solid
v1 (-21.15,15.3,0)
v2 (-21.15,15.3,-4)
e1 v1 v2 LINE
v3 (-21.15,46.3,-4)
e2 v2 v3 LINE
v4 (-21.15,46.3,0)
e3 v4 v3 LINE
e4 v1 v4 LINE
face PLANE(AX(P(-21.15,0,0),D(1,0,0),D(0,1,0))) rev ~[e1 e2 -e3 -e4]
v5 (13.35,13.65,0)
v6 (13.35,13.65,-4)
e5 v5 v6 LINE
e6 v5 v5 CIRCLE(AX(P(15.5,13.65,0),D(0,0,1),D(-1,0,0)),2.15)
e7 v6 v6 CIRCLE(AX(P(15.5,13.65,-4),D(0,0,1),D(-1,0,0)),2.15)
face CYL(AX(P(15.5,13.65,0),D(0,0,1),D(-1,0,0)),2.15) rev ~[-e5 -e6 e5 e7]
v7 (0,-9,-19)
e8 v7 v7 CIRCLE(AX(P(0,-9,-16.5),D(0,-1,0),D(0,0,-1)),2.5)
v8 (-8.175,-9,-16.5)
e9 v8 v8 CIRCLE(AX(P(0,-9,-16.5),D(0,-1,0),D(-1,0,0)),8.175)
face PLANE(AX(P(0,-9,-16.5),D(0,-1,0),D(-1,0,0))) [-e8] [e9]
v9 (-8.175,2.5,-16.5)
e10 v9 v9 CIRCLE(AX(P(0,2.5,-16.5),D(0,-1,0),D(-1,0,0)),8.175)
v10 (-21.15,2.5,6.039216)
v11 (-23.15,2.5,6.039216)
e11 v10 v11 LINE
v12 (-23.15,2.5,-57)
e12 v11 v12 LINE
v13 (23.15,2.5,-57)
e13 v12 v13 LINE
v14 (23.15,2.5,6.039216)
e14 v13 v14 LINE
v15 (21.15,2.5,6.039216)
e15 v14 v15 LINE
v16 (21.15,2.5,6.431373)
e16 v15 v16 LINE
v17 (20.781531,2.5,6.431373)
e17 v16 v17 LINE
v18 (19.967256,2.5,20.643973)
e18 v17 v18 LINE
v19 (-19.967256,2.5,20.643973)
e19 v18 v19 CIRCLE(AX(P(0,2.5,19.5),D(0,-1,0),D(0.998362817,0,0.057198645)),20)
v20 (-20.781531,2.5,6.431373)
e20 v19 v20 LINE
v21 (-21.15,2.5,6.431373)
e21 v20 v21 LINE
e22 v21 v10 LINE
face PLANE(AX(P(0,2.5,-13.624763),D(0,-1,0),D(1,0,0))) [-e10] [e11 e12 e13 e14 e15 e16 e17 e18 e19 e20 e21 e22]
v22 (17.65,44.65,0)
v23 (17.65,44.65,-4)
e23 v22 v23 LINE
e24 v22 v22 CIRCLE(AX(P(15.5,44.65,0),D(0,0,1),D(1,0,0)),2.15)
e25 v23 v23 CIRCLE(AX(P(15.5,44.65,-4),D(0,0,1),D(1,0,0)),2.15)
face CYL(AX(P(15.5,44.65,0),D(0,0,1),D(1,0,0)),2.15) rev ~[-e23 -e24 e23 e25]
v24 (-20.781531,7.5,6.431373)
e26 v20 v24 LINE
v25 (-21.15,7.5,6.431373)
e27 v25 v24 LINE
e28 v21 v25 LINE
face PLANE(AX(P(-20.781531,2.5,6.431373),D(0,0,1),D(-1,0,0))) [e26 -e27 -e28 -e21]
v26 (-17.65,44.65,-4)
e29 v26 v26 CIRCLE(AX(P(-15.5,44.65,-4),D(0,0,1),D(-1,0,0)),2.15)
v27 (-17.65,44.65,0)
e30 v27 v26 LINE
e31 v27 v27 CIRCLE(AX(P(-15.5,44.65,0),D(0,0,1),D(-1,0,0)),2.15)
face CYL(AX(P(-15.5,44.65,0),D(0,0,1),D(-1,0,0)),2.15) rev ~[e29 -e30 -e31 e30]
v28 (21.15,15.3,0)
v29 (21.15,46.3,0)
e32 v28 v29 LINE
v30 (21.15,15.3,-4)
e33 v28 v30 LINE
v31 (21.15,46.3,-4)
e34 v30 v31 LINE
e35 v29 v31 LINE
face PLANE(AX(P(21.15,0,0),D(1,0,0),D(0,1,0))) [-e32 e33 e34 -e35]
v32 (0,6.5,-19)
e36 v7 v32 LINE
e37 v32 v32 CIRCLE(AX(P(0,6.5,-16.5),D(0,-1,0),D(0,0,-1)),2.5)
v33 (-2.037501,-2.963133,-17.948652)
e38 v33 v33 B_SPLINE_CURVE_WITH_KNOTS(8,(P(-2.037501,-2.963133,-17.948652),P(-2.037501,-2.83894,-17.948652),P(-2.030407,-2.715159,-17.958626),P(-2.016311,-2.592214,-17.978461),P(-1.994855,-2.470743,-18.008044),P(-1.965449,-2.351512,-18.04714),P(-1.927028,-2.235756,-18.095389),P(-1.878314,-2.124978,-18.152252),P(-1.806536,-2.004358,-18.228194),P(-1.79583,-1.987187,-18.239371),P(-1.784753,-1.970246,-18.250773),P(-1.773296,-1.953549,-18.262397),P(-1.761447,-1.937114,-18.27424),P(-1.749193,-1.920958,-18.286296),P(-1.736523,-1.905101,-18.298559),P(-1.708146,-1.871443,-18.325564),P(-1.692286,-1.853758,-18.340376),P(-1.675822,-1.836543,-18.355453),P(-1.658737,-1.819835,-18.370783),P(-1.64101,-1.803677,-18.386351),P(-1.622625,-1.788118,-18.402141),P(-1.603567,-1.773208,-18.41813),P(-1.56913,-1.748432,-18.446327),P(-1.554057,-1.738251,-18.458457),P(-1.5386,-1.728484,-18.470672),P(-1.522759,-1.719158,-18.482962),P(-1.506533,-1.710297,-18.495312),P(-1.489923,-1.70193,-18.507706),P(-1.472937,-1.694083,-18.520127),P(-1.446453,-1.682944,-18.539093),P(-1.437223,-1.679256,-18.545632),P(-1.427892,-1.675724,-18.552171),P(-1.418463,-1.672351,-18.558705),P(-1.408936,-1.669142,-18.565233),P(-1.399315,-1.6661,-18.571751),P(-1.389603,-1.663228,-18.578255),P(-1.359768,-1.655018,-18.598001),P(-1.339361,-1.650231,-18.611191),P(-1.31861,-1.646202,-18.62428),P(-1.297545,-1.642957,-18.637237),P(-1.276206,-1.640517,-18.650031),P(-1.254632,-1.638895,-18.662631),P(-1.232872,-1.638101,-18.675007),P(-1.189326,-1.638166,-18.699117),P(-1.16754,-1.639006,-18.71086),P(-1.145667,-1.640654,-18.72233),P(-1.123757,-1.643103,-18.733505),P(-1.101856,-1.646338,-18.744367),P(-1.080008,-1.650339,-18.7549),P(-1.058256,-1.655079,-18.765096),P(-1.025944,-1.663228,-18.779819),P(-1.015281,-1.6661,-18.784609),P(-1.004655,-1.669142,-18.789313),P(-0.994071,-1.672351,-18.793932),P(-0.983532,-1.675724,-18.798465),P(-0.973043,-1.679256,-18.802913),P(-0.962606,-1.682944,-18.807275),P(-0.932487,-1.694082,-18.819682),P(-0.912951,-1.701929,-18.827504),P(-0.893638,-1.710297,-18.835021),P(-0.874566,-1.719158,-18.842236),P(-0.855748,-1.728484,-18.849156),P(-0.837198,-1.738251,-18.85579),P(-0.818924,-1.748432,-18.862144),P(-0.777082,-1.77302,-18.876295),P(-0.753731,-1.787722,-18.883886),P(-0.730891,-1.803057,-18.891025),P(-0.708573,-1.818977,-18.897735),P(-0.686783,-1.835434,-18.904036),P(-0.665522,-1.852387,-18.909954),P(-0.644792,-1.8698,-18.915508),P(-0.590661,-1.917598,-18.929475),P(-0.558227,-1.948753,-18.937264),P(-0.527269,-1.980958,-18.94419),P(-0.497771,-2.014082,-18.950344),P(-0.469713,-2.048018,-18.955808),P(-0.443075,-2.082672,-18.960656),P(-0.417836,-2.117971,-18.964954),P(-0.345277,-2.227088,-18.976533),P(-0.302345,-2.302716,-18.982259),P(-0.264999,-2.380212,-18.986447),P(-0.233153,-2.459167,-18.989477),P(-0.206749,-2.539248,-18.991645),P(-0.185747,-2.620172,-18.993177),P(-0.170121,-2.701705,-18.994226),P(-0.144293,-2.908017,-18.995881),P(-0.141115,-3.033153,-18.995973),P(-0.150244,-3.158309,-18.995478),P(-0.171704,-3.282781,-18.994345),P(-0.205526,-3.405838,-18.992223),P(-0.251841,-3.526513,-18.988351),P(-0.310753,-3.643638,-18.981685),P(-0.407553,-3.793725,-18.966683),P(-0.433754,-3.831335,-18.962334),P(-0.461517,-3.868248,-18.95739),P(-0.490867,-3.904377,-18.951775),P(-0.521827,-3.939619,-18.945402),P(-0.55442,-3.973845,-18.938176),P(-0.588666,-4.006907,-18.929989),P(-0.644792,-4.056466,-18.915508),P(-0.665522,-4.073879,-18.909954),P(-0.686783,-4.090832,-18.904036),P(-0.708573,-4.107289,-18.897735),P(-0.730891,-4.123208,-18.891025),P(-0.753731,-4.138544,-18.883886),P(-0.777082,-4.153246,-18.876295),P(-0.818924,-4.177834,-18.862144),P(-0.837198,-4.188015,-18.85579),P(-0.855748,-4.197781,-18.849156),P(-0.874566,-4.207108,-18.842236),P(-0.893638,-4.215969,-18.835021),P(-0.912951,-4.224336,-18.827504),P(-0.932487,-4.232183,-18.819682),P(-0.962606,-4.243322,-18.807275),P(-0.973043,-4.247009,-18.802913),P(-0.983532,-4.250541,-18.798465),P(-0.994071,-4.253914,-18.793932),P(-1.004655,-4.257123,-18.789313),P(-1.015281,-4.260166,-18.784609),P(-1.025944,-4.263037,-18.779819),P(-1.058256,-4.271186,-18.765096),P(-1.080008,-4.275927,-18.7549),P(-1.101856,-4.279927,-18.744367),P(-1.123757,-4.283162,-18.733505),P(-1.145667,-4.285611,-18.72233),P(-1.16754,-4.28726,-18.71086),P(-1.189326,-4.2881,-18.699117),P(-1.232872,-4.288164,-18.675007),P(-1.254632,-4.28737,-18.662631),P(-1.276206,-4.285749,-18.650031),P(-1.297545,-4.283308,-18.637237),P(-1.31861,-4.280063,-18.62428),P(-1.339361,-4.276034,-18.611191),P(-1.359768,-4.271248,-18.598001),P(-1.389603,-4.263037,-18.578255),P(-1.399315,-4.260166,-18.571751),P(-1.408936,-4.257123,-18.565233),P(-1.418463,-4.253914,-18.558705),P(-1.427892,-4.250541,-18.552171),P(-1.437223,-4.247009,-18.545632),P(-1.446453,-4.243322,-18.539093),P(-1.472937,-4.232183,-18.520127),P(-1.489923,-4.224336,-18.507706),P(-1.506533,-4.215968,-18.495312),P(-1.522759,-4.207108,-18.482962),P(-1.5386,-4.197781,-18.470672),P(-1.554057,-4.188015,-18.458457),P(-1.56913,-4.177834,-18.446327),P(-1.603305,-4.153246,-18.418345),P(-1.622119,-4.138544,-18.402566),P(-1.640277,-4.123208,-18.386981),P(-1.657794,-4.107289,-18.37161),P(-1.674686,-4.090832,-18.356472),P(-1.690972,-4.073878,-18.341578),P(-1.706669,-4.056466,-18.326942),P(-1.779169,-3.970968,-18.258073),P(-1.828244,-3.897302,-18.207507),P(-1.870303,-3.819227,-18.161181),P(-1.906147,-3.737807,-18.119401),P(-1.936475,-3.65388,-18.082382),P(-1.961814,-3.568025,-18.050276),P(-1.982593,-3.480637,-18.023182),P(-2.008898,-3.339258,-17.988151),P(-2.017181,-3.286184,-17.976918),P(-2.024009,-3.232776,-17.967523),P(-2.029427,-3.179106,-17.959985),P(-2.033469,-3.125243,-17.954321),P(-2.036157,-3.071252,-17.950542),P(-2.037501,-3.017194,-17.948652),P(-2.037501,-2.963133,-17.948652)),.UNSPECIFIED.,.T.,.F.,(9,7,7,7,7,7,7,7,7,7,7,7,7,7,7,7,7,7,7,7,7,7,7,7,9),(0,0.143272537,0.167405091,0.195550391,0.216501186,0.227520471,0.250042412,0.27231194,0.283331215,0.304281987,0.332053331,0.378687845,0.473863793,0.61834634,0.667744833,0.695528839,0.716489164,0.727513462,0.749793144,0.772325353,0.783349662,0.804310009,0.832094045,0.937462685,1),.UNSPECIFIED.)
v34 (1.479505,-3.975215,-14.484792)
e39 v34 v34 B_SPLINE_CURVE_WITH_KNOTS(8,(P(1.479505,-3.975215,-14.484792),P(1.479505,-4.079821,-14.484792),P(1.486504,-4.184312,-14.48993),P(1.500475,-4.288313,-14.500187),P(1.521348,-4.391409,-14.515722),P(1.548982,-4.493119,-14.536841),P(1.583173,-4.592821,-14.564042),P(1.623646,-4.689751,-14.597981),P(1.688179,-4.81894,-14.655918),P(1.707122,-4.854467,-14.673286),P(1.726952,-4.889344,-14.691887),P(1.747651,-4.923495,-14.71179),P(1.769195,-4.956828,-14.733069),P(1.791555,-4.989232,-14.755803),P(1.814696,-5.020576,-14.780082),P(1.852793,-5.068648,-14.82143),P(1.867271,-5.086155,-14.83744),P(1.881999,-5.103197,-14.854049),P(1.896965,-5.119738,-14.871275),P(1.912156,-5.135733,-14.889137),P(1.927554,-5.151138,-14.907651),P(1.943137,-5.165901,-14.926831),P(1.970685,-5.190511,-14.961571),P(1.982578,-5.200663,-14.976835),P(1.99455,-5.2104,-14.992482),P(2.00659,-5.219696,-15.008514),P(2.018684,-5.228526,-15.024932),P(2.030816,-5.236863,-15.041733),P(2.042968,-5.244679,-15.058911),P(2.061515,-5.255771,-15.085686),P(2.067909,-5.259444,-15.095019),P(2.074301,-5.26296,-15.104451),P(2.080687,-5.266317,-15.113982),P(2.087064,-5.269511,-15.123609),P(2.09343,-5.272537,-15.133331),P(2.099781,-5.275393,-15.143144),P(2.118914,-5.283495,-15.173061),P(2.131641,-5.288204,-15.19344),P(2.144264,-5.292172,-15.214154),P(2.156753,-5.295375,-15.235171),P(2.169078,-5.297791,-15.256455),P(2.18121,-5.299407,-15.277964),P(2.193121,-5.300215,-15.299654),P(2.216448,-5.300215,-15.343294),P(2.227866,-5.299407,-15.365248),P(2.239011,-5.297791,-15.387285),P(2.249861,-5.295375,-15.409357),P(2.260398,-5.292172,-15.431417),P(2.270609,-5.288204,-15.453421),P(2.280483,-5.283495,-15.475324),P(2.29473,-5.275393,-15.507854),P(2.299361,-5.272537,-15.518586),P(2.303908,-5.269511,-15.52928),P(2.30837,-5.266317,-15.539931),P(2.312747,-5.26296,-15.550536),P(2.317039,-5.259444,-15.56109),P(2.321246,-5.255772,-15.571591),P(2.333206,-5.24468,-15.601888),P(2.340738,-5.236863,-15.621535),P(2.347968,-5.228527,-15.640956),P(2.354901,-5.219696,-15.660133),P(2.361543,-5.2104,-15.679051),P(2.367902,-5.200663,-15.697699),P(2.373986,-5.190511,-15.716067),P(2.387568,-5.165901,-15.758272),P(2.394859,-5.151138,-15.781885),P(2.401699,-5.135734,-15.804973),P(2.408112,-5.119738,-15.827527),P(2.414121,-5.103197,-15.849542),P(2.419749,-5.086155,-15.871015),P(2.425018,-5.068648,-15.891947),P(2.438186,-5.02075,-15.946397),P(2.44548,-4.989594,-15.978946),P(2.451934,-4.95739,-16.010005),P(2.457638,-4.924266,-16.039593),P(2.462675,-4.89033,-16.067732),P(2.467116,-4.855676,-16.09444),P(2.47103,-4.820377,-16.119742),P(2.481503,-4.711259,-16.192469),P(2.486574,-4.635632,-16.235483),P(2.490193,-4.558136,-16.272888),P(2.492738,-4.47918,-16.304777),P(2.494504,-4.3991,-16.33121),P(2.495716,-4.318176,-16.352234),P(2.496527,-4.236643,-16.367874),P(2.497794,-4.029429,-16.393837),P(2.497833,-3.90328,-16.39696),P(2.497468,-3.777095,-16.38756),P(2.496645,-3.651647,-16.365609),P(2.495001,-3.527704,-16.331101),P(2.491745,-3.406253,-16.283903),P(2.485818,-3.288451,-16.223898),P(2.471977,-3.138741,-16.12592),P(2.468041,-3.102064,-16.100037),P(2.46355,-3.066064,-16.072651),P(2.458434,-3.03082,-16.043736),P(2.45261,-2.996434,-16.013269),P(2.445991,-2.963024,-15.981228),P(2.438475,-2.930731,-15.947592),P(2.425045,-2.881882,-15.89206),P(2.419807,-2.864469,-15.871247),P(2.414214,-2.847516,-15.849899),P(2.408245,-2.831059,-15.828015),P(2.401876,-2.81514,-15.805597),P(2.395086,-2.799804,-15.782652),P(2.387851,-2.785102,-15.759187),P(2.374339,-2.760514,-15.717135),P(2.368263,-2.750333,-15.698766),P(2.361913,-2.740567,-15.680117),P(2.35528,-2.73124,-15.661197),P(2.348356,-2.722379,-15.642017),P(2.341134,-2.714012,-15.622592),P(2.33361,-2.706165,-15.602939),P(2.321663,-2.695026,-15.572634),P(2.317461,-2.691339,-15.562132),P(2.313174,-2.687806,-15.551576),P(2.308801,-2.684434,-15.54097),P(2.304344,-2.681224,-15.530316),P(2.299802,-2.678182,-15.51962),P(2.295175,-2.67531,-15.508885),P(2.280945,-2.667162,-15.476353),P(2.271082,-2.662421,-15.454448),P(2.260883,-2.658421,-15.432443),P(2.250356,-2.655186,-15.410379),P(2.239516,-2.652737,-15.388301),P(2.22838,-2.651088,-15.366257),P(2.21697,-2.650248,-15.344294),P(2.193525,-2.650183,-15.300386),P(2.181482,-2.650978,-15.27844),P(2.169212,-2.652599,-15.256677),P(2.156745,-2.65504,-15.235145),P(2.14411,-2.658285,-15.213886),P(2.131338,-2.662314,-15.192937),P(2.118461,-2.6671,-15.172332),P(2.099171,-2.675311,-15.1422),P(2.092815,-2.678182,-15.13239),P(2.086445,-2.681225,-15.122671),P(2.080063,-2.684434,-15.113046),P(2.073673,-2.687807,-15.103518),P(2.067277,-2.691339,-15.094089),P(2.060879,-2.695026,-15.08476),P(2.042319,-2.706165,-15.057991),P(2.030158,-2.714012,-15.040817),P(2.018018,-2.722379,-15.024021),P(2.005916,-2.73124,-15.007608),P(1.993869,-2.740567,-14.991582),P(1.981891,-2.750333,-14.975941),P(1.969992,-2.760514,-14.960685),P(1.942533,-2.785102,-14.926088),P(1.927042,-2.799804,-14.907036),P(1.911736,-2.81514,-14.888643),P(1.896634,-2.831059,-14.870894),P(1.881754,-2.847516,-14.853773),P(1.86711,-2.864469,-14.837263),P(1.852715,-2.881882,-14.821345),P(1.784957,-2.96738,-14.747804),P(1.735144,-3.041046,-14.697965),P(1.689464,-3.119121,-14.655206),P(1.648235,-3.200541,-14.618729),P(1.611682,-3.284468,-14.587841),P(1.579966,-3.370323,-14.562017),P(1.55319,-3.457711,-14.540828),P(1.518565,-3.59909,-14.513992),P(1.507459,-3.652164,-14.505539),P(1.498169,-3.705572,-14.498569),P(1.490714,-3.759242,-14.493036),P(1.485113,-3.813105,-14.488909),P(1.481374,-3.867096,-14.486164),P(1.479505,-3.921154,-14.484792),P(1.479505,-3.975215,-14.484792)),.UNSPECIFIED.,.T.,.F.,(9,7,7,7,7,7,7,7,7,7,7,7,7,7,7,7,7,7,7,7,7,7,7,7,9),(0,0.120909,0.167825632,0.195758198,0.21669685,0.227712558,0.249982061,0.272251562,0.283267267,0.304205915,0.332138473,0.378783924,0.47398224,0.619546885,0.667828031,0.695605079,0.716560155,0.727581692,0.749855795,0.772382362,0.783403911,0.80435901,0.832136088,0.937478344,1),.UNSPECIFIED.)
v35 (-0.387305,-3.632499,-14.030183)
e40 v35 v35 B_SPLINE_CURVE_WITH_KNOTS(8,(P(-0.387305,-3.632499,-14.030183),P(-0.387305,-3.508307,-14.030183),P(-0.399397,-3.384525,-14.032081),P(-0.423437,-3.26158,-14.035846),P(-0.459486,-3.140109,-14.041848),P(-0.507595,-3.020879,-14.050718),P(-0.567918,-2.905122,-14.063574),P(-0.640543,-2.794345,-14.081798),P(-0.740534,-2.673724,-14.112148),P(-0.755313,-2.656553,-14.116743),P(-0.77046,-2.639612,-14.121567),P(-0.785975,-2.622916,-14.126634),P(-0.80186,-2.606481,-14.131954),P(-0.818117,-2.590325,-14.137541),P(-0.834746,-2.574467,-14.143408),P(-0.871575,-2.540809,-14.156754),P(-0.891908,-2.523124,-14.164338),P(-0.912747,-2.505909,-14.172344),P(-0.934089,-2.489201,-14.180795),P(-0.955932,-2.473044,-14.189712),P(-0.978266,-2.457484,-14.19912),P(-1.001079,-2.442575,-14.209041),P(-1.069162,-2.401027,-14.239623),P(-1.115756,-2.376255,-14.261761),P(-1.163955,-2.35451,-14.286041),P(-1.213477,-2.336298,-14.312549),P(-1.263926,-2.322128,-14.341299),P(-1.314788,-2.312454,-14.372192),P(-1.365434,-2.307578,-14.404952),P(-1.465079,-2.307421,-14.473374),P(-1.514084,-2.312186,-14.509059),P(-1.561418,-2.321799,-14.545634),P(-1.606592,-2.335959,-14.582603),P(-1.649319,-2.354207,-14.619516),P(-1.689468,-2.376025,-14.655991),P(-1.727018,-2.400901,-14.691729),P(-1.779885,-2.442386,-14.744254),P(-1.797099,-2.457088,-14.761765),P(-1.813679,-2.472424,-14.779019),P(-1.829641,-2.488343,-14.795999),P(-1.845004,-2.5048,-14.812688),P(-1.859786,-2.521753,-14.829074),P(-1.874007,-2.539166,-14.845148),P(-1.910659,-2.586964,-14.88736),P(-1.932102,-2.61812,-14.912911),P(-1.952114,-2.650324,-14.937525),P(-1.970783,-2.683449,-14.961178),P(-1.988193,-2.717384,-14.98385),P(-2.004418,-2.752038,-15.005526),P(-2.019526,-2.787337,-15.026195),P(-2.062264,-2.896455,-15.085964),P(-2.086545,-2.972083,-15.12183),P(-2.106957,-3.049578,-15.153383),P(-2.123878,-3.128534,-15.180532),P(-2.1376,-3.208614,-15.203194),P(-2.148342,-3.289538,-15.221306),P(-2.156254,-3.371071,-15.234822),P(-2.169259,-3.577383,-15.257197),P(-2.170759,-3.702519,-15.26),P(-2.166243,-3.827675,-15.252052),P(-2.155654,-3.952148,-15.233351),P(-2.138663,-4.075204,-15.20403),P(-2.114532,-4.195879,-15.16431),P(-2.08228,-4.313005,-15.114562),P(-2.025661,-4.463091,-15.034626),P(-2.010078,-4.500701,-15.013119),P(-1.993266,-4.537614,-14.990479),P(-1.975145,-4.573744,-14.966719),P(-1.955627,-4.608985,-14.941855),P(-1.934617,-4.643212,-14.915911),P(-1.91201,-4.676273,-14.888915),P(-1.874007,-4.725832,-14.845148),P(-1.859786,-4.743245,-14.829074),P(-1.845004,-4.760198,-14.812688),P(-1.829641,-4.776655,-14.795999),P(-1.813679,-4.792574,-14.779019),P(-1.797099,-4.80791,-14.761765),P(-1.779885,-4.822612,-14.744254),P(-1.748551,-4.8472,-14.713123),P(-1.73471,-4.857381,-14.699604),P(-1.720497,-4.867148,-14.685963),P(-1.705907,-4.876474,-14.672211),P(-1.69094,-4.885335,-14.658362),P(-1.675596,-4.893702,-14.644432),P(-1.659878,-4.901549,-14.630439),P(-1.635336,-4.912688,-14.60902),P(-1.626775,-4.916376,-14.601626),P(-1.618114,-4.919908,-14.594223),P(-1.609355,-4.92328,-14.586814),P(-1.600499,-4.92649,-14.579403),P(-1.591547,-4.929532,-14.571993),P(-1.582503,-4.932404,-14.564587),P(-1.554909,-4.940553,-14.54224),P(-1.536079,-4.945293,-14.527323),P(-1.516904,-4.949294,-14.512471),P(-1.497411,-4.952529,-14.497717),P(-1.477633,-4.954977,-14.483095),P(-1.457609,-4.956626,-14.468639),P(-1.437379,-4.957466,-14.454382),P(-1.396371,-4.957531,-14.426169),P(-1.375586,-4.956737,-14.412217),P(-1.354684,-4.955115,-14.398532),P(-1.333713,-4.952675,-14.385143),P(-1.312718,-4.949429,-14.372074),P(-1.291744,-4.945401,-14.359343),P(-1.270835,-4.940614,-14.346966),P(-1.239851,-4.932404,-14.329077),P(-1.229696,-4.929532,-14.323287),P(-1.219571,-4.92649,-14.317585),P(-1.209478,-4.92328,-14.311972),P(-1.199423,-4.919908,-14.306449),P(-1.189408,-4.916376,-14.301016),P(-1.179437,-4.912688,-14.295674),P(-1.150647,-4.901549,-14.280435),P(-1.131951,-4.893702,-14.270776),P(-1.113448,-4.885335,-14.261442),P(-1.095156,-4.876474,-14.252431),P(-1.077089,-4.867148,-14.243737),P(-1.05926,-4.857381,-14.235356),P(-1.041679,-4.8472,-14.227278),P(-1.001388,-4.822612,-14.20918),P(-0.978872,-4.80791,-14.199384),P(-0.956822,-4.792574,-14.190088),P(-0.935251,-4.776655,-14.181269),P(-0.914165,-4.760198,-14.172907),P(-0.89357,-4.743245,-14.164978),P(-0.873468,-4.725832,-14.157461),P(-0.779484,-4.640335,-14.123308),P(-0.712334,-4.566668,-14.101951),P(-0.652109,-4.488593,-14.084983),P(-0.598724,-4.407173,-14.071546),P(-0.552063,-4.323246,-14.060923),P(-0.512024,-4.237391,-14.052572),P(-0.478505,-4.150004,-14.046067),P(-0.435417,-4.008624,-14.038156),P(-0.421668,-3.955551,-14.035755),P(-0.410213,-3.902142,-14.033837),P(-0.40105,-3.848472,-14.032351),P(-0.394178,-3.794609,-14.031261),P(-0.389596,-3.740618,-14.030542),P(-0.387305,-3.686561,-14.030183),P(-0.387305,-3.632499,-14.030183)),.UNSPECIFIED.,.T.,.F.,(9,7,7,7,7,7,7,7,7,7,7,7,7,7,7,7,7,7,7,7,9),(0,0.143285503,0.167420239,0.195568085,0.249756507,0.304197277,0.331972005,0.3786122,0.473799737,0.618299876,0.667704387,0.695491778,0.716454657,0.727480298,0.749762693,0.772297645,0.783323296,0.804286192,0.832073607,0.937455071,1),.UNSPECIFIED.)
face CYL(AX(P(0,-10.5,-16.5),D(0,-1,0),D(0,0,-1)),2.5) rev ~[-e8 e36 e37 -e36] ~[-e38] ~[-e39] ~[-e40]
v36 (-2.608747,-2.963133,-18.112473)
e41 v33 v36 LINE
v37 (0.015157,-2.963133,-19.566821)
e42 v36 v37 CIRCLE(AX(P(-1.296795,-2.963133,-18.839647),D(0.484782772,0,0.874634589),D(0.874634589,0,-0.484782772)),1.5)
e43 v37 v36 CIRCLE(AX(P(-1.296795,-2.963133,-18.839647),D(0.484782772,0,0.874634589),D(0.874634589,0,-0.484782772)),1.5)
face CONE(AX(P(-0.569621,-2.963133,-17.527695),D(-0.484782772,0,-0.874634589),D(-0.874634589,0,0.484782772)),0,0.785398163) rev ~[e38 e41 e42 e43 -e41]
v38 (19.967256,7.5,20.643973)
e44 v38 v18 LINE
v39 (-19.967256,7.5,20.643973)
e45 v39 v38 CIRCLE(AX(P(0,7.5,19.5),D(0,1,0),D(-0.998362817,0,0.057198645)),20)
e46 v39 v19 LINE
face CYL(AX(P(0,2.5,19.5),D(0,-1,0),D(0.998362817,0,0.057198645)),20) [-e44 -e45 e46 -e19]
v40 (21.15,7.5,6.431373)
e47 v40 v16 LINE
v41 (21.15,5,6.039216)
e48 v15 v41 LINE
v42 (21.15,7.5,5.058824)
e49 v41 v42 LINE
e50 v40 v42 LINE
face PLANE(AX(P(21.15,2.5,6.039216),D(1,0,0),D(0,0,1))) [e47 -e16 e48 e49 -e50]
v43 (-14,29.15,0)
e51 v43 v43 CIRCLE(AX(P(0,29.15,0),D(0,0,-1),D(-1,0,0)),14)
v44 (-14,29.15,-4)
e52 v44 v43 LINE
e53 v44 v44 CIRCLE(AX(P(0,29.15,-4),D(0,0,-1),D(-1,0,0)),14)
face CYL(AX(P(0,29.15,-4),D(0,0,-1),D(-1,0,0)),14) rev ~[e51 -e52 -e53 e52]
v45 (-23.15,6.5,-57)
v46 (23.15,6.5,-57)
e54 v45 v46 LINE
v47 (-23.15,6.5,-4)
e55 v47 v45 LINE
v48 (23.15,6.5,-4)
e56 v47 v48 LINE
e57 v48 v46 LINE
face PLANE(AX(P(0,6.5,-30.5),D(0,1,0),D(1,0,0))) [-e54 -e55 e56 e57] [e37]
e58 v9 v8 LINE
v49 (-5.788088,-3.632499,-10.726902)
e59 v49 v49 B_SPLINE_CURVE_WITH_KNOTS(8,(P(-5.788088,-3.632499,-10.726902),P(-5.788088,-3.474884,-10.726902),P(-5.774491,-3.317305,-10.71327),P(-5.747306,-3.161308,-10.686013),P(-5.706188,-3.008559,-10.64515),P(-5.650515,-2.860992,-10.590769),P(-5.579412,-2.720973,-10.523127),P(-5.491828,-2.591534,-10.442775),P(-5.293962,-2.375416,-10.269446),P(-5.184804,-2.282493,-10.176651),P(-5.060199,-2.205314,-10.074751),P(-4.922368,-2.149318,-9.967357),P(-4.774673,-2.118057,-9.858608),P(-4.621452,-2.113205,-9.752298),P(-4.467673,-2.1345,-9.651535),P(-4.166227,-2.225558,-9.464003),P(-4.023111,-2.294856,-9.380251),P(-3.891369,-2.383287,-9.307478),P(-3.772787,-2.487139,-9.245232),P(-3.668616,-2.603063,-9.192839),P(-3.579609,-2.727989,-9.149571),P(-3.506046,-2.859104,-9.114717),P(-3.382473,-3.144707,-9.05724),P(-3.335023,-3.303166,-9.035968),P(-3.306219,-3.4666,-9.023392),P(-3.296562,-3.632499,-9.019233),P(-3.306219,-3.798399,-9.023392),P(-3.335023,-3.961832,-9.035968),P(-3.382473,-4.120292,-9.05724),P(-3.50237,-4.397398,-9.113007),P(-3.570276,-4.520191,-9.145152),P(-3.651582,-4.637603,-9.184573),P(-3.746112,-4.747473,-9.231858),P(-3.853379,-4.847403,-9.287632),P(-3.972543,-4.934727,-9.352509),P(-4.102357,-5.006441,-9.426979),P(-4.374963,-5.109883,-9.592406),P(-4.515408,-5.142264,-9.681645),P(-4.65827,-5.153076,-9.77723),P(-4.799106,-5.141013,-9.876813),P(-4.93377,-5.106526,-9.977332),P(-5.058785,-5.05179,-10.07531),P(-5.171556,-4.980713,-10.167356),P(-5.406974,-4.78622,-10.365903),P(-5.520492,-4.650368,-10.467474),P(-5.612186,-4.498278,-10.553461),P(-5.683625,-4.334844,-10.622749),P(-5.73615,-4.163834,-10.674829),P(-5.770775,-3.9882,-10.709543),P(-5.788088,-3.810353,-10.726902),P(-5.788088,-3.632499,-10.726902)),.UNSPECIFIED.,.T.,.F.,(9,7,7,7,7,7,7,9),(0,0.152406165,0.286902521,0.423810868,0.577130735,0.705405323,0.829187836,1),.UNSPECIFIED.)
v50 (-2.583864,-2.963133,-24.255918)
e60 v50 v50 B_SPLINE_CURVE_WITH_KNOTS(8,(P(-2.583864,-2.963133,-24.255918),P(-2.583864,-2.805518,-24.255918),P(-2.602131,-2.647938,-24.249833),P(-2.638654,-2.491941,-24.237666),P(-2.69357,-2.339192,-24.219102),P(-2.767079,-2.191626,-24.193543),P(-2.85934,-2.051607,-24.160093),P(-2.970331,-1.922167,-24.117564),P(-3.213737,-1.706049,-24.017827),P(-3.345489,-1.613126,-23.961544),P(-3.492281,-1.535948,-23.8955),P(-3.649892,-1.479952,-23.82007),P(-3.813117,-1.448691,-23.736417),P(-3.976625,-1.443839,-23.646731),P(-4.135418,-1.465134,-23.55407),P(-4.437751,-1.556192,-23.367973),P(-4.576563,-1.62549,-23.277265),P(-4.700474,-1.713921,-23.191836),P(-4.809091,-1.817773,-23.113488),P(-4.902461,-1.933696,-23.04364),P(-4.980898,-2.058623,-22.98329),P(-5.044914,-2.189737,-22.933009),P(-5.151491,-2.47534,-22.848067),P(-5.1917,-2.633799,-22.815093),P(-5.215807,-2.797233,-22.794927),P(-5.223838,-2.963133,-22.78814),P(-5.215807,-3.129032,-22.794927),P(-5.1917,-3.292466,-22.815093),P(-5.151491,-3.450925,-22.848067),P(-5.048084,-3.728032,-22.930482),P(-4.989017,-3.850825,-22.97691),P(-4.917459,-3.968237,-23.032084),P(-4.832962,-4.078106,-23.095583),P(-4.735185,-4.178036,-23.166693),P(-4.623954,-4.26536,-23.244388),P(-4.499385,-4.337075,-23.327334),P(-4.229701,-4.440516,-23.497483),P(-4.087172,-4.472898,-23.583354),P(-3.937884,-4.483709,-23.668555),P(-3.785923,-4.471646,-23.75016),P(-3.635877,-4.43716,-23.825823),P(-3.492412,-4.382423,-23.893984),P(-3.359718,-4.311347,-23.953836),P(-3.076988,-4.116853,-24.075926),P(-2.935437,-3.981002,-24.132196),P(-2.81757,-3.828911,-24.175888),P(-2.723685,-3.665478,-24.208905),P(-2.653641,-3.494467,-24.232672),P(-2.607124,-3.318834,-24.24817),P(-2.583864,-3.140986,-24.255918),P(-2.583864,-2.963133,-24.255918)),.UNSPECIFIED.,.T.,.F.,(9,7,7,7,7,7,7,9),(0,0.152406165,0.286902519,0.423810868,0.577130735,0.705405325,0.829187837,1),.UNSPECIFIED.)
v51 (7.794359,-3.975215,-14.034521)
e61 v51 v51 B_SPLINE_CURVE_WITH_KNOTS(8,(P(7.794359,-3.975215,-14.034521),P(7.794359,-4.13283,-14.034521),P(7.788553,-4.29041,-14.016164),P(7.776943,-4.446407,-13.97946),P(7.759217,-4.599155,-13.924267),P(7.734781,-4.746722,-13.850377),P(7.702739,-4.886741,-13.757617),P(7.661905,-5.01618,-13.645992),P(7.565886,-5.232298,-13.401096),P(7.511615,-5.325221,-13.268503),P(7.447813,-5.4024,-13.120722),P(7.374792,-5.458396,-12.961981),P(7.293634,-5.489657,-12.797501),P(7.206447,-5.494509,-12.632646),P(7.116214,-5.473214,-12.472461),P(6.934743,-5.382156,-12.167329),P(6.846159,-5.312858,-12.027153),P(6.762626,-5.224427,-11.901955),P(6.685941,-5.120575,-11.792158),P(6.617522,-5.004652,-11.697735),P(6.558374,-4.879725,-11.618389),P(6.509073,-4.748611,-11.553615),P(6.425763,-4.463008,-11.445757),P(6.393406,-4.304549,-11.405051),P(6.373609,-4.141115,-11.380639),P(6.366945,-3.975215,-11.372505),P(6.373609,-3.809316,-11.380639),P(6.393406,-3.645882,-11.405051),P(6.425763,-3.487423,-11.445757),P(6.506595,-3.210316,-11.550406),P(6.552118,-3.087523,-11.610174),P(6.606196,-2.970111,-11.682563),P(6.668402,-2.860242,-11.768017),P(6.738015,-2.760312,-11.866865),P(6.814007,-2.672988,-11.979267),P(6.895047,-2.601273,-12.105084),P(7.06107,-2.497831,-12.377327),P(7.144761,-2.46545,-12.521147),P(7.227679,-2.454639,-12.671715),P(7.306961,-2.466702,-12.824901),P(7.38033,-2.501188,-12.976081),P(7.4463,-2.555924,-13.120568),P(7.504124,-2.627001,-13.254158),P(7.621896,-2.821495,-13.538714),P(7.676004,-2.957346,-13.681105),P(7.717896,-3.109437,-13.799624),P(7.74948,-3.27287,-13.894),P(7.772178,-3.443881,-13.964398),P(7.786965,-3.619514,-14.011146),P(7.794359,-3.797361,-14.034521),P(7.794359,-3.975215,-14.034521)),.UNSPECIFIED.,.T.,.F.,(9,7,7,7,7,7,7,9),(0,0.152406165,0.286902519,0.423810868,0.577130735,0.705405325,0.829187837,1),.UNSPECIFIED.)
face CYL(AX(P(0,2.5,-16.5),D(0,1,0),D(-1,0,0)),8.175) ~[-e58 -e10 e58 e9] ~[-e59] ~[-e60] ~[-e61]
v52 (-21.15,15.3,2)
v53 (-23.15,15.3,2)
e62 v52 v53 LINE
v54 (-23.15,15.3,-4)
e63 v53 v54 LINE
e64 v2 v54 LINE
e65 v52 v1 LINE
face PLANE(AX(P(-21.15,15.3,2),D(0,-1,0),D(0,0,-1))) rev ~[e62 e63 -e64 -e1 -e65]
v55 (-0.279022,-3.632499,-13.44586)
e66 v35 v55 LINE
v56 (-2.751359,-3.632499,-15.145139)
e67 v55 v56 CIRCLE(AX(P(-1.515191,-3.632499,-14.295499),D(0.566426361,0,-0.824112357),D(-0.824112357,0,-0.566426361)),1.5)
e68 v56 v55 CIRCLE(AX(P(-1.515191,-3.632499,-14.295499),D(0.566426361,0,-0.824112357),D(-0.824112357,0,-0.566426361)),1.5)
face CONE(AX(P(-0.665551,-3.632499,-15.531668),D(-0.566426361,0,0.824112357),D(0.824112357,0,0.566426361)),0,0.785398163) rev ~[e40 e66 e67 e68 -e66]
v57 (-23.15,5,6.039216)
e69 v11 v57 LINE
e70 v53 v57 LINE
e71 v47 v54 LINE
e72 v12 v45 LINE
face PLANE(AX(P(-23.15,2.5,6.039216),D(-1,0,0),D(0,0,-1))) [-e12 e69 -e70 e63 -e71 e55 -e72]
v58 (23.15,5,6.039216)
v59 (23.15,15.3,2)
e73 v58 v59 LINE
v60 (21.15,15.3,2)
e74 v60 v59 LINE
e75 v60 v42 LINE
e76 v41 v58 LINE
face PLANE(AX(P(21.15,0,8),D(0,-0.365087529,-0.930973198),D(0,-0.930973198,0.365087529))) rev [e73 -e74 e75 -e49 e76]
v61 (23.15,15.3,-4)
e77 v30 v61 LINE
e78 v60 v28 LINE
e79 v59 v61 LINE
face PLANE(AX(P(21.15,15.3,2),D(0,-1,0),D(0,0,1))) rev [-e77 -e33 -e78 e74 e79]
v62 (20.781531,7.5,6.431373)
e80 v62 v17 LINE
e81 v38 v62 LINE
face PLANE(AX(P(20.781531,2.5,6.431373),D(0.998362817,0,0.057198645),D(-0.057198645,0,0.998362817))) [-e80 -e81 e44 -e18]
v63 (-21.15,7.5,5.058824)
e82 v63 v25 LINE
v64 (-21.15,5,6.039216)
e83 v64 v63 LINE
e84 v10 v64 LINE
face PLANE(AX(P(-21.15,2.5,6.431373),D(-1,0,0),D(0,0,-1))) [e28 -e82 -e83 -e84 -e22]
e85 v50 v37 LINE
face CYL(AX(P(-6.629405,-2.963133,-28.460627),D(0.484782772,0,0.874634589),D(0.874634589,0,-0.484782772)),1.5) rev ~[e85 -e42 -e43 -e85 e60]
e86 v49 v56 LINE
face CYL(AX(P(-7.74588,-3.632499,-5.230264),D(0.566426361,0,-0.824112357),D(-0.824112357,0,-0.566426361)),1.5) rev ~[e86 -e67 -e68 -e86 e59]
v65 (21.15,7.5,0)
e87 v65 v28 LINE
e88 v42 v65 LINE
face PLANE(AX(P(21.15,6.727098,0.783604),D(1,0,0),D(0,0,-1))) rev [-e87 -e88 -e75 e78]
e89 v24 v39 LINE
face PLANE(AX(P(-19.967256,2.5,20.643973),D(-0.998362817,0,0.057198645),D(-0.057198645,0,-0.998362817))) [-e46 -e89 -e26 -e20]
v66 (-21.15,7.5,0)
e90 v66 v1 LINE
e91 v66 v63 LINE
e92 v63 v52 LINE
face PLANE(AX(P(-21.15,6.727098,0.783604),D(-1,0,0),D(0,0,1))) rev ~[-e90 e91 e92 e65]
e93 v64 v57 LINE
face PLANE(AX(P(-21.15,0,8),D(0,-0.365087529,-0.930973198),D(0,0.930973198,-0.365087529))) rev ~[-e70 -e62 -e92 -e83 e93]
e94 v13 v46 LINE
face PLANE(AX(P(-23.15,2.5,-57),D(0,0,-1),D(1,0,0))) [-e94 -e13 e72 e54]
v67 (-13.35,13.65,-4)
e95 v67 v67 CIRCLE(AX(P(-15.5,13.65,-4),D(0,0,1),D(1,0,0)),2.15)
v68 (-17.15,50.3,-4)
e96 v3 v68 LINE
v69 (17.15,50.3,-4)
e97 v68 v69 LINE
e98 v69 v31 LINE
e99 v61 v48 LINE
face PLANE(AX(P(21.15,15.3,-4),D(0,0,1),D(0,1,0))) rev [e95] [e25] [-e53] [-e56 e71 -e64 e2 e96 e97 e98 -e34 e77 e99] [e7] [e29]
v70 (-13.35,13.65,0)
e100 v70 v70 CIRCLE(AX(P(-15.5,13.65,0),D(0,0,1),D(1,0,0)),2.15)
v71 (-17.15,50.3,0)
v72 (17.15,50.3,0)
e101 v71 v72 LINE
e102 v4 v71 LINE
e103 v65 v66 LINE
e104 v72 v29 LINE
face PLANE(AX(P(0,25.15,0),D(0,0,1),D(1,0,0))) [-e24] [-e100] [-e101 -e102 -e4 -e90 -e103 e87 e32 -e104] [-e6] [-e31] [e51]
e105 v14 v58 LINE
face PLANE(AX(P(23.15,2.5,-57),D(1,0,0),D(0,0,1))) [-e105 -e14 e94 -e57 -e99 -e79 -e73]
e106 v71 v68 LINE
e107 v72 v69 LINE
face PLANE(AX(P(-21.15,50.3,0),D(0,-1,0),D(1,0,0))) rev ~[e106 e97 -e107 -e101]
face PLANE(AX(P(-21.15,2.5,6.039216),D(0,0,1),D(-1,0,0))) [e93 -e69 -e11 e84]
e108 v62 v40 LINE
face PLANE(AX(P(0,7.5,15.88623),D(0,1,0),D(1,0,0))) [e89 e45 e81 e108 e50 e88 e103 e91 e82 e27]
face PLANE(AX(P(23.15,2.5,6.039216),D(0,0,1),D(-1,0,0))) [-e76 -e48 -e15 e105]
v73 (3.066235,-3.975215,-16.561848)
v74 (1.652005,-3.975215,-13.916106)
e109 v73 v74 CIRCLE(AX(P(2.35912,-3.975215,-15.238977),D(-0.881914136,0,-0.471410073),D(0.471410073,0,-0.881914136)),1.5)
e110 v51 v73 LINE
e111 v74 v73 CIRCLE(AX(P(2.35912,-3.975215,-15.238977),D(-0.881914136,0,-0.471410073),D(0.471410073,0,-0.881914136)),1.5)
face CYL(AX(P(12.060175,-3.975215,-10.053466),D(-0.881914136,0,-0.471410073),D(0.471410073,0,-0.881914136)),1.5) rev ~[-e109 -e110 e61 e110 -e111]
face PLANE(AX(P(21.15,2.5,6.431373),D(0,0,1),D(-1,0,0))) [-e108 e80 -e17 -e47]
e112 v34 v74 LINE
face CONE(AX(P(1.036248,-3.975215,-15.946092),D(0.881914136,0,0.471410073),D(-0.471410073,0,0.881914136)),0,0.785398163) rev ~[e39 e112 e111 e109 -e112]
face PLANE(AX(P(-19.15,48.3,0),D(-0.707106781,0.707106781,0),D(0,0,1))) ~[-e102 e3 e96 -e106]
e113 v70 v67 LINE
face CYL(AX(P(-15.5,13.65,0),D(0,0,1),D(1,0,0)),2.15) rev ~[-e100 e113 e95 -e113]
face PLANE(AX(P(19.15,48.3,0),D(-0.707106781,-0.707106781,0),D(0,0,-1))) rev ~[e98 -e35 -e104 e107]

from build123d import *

# Parameters (mm, degrees)
SKETCH_5_W                = 42.3
SKETCH_5_H                = 50.3
SKETCH_5_R                = 11.15
SKETCH_5_R_2              = 2.15
EXTRUDE_2_DEPTH           = 4
EXTRUDE_3_DEPTH           = 4
SKETCH_7_R                = 1.7
CUT_EXTRUDE_3_DEPTH       = 4
CHAMFER_1_SIZE            = 4
EXTRUDE_4_DEPTH           = 2
EXTRUDE_5_REACH           = 79.8
EXTRUDE_6_REACH           = 80.956
SKETCH_12_W               = 46.3
SKETCH_12_H               = 3
EXTRUDE_7_DEPTH           = 53
EXTRUDE_9_DEPTH           = 4
CUT_EXTRUDE_4_DEPTH       = 5
SKETCH_17_R               = 5.175
EXTRUDE_10_DEPTH          = 15
SKETCH_18_R               = 1.6
CUT_EXTRUDE_6_DEPTH       = 15
F_2_0MM_1_D               = 3.1
F_2_0MM_1_DEPTH           = 4.45
F_2_0MM_1_TIP             = 1.55
F_2_0MM_1_ON_FACE_2_D     = 3.1
F_2_0MM_1_ON_FACE_2_DEPTH = 4.45
F_2_0MM_1_ON_FACE_2_TIP   = 1.55
F_2_0MM_1_ON_FACE_3_D     = 3.1
F_2_0MM_1_ON_FACE_3_DEPTH = 4.45
F_2_0MM_1_ON_FACE_3_TIP   = 1.55
SKETCH_21_W               = 46.3
SKETCH_21_H               = 53
CUT_EXTRUDE_7_DEPTH       = 1.5
CUT_EXTRUDE_START         = -0.5
CUT_EXTRUDE_8_DEPTH       = 0.5
EXTRUDE_START             = 2.5
EXTRUDE_11_DEPTH          = 2.5
SKETCH_25_R               = 2.55
CUT_EXTRUDE_9_DEPTH       = 15
SKETCH_28_R               = 5.175
EXTRUDE_13_DEPTH          = 3.5
EXTRUDE_START_2           = -17
SKETCH_30_R               = 5.175
EXTRUDE_15_DEPTH          = 17
SKETCH_31_R               = 8.175
EXTRUDE_16_DEPTH          = 13
SKETCH_32_R               = 2.5
CUT_EXTRUDE_10_DEPTH      = 18
CUT_EXTRUDE_START_2       = -1.5
SKETCH_33_R               = 8.175
CUT_EXTRUDE_11_DEPTH      = 1.5
F_3_0MM_1_D               = 3
F_3_0MM_1_DEPTH           = 5.5
F_3_0MM_1_TIP             = 1.5
F_3_0MM_1_ON_FACE_2_D     = 3
F_3_0MM_1_ON_FACE_2_DEPTH = 5.5
F_3_0MM_1_ON_FACE_2_TIP   = 1.5
F_3_0MM_1_ON_FACE_3_D     = 3
F_3_0MM_1_ON_FACE_3_DEPTH = 5.5
F_3_0MM_1_ON_FACE_3_TIP   = 1.5
SKETCH_36_R               = 14
CUT_EXTRUDE_12_DEPTH      = 5


with BuildPart() as part:
    # Sketch 5 → Extrude 2 (new body)
    with BuildSketch(Plane.XY):
        with Locations((0, 25.15)):
            Rectangle(SKETCH_5_W, SKETCH_5_H)
        with Locations((0, 29.15)):
            Circle(SKETCH_5_R, mode=Mode.SUBTRACT)
        with Locations((15.5, 44.65)):
            Circle(SKETCH_5_R_2, mode=Mode.SUBTRACT)
        with Locations(Location((15.5, 13.65, 0), (0, 0, 180))):
            Circle(SKETCH_5_R_2, mode=Mode.SUBTRACT)
        with Locations((-15.5, 13.65)):
            Circle(SKETCH_5_R_2, mode=Mode.SUBTRACT)
        with Locations(Location((-15.5, 44.65, 0), (0, 0, 180))):
            Circle(SKETCH_5_R_2, mode=Mode.SUBTRACT)
    extrude(amount=-EXTRUDE_2_DEPTH)

    # Sketch 6 → Extrude 3 (add)
    with BuildSketch(Plane.XZ):
        with BuildLine():
            Line((-21.15, 0), (-19.967256346, 20.643972909))
            ThreePointArc((-19.967256346, 20.643972909), (0, 39.5), (19.967256346, 20.643972909))
            Line((19.967256346, 20.643972909), (21.15, 0))
            Line((21.15, 0), (-21.15, 0))
        make_face()
    extrude(amount=-EXTRUDE_3_DEPTH)

    # Sketch 7 → Cut-Extrude 3 (cut)
    with BuildSketch(Plane(origin=(0, 4, 0), x_dir=(1, 0, 0), z_dir=(0, 1, 0))):
        with Locations(Location((0, -5.5, 0), (0, 0, 270))):
            Circle(SKETCH_7_R)
        with Locations(Location((12.124355653, -12.5, 0), (0, 0, 270))):
            Circle(SKETCH_7_R)
        with Locations(Location((12.124355653, -26.5, 0), (0, 0, 270))):
            Circle(SKETCH_7_R)
        with Locations(Location((0, -33.5, 0), (0, 0, 270))):
            Circle(SKETCH_7_R)
        with Locations(Location((-12.124355653, -26.5, 0), (0, 0, 270))):
            Circle(SKETCH_7_R)
        with Locations(Location((-12.124355653, -12.5, 0), (0, 0, 270))):
            Circle(SKETCH_7_R)
    extrude(amount=-CUT_EXTRUDE_3_DEPTH, mode=Mode.SUBTRACT)

    # Chamfer 1
    chamfer_1_edges = [part.edges().sort_by_distance(p)[0] for p in [
        (-21.15, 50.3, -2),
        (21.15, 50.3, -2),
    ]]
    chamfer(chamfer_1_edges, length=CHAMFER_1_SIZE)

    # Sketch 9 → Extrude 4 (add)
    with BuildSketch(Plane.ZY.offset(21.15)):
        Polygon((-4, 0), (8, 0), (2, 15.3), (-4, 15.3), align=None)
    extrude_4 = extrude(amount=EXTRUDE_4_DEPTH)

    # Extrude 5: up to this face of the body (flat: up to its plane)
    extrude_5_end = Plane(part.part.faces().sort_by_distance((-20.558628173, 2, 10.321986454))[0])
    # Sketch 10 → Extrude 5 (add, up to the picked face)
    with BuildSketch(Plane.ZY.offset(23.15), mode=Mode.PRIVATE) as extrude_5_sk1:
        Polygon((-4, 0), (8, 0), (6.431372549, 4), (-4, 4), align=None)
    extrude_5_tool1 = split(extrude(extrude_5_sk1.sketch, amount=-EXTRUDE_5_REACH, mode=Mode.PRIVATE), bisect_by=extrude_5_end, keep=Keep.BOTH, mode=Mode.PRIVATE)
    add(extrude_5_tool1.solids().sort_by(Axis((-23.15, 1.95338, 1.616984), (1, 0, 0)))[0])

    # Mirror 2: Extrude 4 across plane
    add(extrude_4.mirror(Plane(origin=(0, 0, 0), x_dir=(0, 0, 1), z_dir=(1, 0, 0))))

    # Extrude 6: up to this face of the body (flat: up to its plane)
    extrude_6_end = Plane(part.part.faces().sort_by_distance((20.558628173, 2, 10.321986454))[0])
    # Sketch 11 → Extrude 6 (add, up to the picked face)
    with BuildSketch(Plane(origin=(23.15, 0, 0), x_dir=(0, 0, -1), z_dir=(1, 0, 0)), mode=Mode.PRIVATE) as extrude_6_sk1:
        Polygon((-6.431372549, 4), (4, 4), (4, 0), (-8, 0), align=None)
    extrude_6_tool1 = split(extrude(extrude_6_sk1.sketch, amount=-EXTRUDE_6_REACH, mode=Mode.PRIVATE), bisect_by=extrude_6_end, keep=Keep.BOTH, mode=Mode.PRIVATE)
    add(extrude_6_tool1.solids().sort_by(Axis((23.15, 1.95338, 1.616984), (-1, 0, 0)))[0])

    # Sketch 12 → Extrude 7 (add)
    with BuildSketch(Plane(origin=(0, 0, -4), x_dir=(-1, 0, 0), z_dir=(0, 0, -1))):
        with Locations((0, 6.5)):
            Rectangle(SKETCH_12_W, SKETCH_12_H)
    extrude(amount=EXTRUDE_7_DEPTH)

    # Sketch 14 → Extrude 9 (add)
    with BuildSketch(Plane(origin=(0, 4, 0), x_dir=(1, 0, 0), z_dir=(0, 1, 0))):
        with BuildLine():
            Line((21.15, 0), (-21.15, 0))
            Line((-21.15, 0), (-21.15, -6.431372549))
            Line((-21.15, -6.431372549), (-20.781530951, -6.431372549))
            Line((-20.781530951, -6.431372549), (-19.967256346, -20.643972909))
            ThreePointArc((-19.967256346, -20.643972909), (0, -39.5), (19.967256346, -20.643972909))
            Line((19.967256346, -20.643972909), (20.781530951, -6.431372549))
            Line((20.781530951, -6.431372549), (21.15, -6.431372549))
            Line((21.15, -6.431372549), (21.15, 0))
        make_face()
    extrude(amount=EXTRUDE_9_DEPTH)

    # Sketch 15 → Cut-Extrude 4 (cut)
    with BuildSketch(Plane.XZ):
        with BuildLine():
            Line((-23.15, -4), (23.15, -4))
            Line((23.15, -4), (23.15, 8))
            Line((23.15, 8), (20.691660451, 8))
            Line((20.691660451, 8), (19.967256346, 20.643972909))
            ThreePointArc((19.967256346, 20.643972909), (0, 39.5), (-19.967256346, 20.643972909))
            Line((-19.967256346, 20.643972909), (-20.691660451, 8))
            Line((-20.691660451, 8), (-23.15, 8))
            Line((-23.15, 8), (-23.15, -4))
        make_face()
    extrude(amount=-CUT_EXTRUDE_4_DEPTH, mode=Mode.SUBTRACT)

    # Sketch 17 → Extrude 10 (add)
    with BuildSketch(Plane(origin=(0, 8, 0), x_dir=(1, 0, 0), z_dir=(0, 1, 0))):
        with Locations(Location((0, 16.5, 0), (0, 0, 270))):
            Circle(SKETCH_17_R)
    extrude(amount=-EXTRUDE_10_DEPTH)

    # Sketch 18 → Cut-Extrude 6 (cut)
    with BuildSketch(Plane.XZ.offset(7)):
        with Locations(Location((0, -16.5, 0), (0, 0, 270))):
            Circle(SKETCH_18_R)
    extrude(amount=-CUT_EXTRUDE_6_DEPTH, mode=Mode.SUBTRACT)

    # 2.0mm _1
    with Locations(Plane(origin=(-2.383959963, -1.470142013, -11.906813753), x_dir=(0.887572221549, 0, 0.46066859187), z_dir=(-0.46066859187, 0, 0.887572221549))):
        with Locations((0, 0)):
            Hole(F_2_0MM_1_D / 2, depth=F_2_0MM_1_DEPTH)
            with Locations((0, 0, -(F_2_0MM_1_DEPTH + F_2_0MM_1_TIP / 2))):  # 90° drill point
                Cone(0, F_2_0MM_1_D / 2, F_2_0MM_1_TIP, mode=Mode.SUBTRACT)

    # 2.0mm _1 on face 2
    with Locations(Plane(origin=(-4.001379199, -1.359919587, -19.781705274), x_dir=(0.634146160856, 0, -0.773213196131), z_dir=(-0.773213196131, 0, -0.634146160856))):
        with Locations((-1e-09, 0)):
            Hole(F_2_0MM_1_ON_FACE_2_D / 2, depth=F_2_0MM_1_ON_FACE_2_DEPTH)
            with Locations((0, 0, -(F_2_0MM_1_ON_FACE_2_DEPTH + F_2_0MM_1_ON_FACE_2_TIP / 2))):  # 90° drill point
                Cone(0, F_2_0MM_1_ON_FACE_2_D / 2, F_2_0MM_1_ON_FACE_2_TIP, mode=Mode.SUBTRACT)

    # 2.0mm _1 on face 3
    with Locations(Plane(origin=(4.74207792, -1.268589172, -18.572033301), x_dir=(0.40039282367, 0, 0.916343596449), z_dir=(0.916343596449, 0, -0.40039282367))):
        with Locations((0, 0)):
            Hole(F_2_0MM_1_ON_FACE_3_D / 2, depth=F_2_0MM_1_ON_FACE_3_DEPTH)
            with Locations((0, 0, -(F_2_0MM_1_ON_FACE_3_DEPTH + F_2_0MM_1_ON_FACE_3_TIP / 2))):  # 90° drill point
                Cone(0, F_2_0MM_1_ON_FACE_3_D / 2, F_2_0MM_1_ON_FACE_3_TIP, mode=Mode.SUBTRACT)

    # Sketch 21 → Cut-Extrude 7 (cut)
    with BuildSketch(Plane(origin=(0, 8, 0), x_dir=(1, 0, 0), z_dir=(0, 1, 0))):
        with Locations((0, 30.5)):
            Rectangle(SKETCH_21_W, SKETCH_21_H)
    extrude(amount=-CUT_EXTRUDE_7_DEPTH, mode=Mode.SUBTRACT)

    # Sketch 22 → Cut-Extrude 8 (cut)
    with BuildSketch(Plane(origin=(0, 8, 0), x_dir=(1, 0, 0), z_dir=(0, 1, 0)).offset(CUT_EXTRUDE_START)):
        with BuildLine():
            Line((21.15, -6.431372549), (21.15, -4.862745098))
            Line((21.15, -4.862745098), (21.15, 0))
            Line((21.15, 0), (-21.15, 0))
            Line((-21.15, 0), (-21.15, -4.862745098))
            Line((-21.15, -4.862745098), (-21.15, -6.431372549))
            Line((-21.15, -6.431372549), (-20.781530951, -6.431372549))
            Line((-20.781530951, -6.431372549), (-19.967256346, -20.643972909))
            ThreePointArc((-19.967256346, -20.643972909), (0, -39.5), (19.967256346, -20.643972909))
            Line((19.967256346, -20.643972909), (20.781530951, -6.431372549))
            Line((20.781530951, -6.431372549), (21.15, -6.431372549))
        make_face()
    extrude(amount=CUT_EXTRUDE_8_DEPTH, mode=Mode.SUBTRACT)

    # Sketch 23 → Extrude 11 (add)
    with BuildSketch(Plane.XZ.offset(-5).offset(EXTRUDE_START)):
        with BuildLine():
            Line((23.15, -57), (23.15, 6.039215686))
            Line((23.15, 6.039215686), (21.15, 6.039215686))
            Line((21.15, 6.039215686), (21.15, 6.431372549))
            Line((21.15, 6.431372549), (20.781530951, 6.431372549))
            Line((20.781530951, 6.431372549), (19.967256346, 20.643972909))
            ThreePointArc((19.967256346, 20.643972909), (0, 39.5), (-19.967256346, 20.643972909))
            Line((-19.967256346, 20.643972909), (-20.781530951, 6.431372549))
            Line((-20.781530951, 6.431372549), (-21.15, 6.431372549))
            Line((-21.15, 6.431372549), (-21.15, 6.039215686))
            Line((-21.15, 6.039215686), (-23.15, 6.039215686))
            Line((-23.15, 6.039215686), (-23.15, -57))
            Line((-23.15, -57), (23.15, -57))
        make_face()
    extrude(amount=-EXTRUDE_11_DEPTH)

    # Sketch 25 → Cut-Extrude 9 (cut)
    with BuildSketch(Plane.XZ.offset(7)):
        with Locations(Location((0, -16.5, 0), (0, 0, 270))):
            Circle(SKETCH_25_R)
    extrude(amount=-CUT_EXTRUDE_9_DEPTH, mode=Mode.SUBTRACT)

    # Sketch 28 → Extrude 13 (add)
    with BuildSketch(Plane.XZ.offset(7)):
        with Locations((0, -16.5)):
            Circle(SKETCH_28_R)
    extrude(amount=EXTRUDE_13_DEPTH)

    # Sketch 30 → Extrude 15 (add)
    with BuildSketch(Plane.XZ.offset(10.5).offset(EXTRUDE_START_2)):
        with Locations((0, -16.5)):
            Circle(SKETCH_30_R)
    extrude(amount=EXTRUDE_15_DEPTH)

    # Sketch 31 → Extrude 16 (add)
    with BuildSketch(Plane.XZ.offset(-2.5)):
        with Locations(Location((0, -16.5, 0), (0, 0, 180))):
            Circle(SKETCH_31_R)
    extrude(amount=EXTRUDE_16_DEPTH)

    # Sketch 32 → Cut-Extrude 10 (cut)
    with BuildSketch(Plane.XZ.offset(10.5)):
        with Locations(Location((0, -16.5, 0), (0, 0, 270))):
            Circle(SKETCH_32_R)
    extrude(amount=-CUT_EXTRUDE_10_DEPTH, mode=Mode.SUBTRACT)

    # Sketch 33 → Cut-Extrude 11 (cut)
    with BuildSketch(Plane.XZ.offset(10.5).offset(CUT_EXTRUDE_START_2)):
        with Locations(Location((0, -16.5, 0), (0, 0, 180))):
            Circle(SKETCH_33_R)
    extrude(amount=CUT_EXTRUDE_11_DEPTH, mode=Mode.SUBTRACT)

    # 3.0mm _1
    with Locations(Plane(origin=(-4.630535501, -3.632499102, -9.762881479), x_dir=(0.824112357357, 0, 0.566426361014), z_dir=(-0.566426361014, 0, 0.824112357357))):
        with Locations((0, 0)):
            Hole(F_3_0MM_1_D / 2, depth=F_3_0MM_1_DEPTH)
            with Locations((0, 0, -(F_3_0MM_1_DEPTH + F_3_0MM_1_TIP / 2))):  # 90° drill point
                Cone(0, F_3_0MM_1_D / 2, F_3_0MM_1_TIP, mode=Mode.SUBTRACT)

    # 3.0mm _1 on face 2
    with Locations(Plane(origin=(-3.963100189, -2.963132752, -23.650137194), x_dir=(-0.874634588785, 0, 0.484782772076), z_dir=(-0.484782772076, 0, -0.874634588785))):
        with Locations((0, 0)):
            Hole(F_3_0MM_1_ON_FACE_2_D / 2, depth=F_3_0MM_1_ON_FACE_2_DEPTH)
            with Locations((0, 0, -(F_3_0MM_1_ON_FACE_2_DEPTH + F_3_0MM_1_ON_FACE_2_TIP / 2))):  # 90° drill point
                Cone(0, F_3_0MM_1_ON_FACE_2_D / 2, F_3_0MM_1_ON_FACE_2_TIP, mode=Mode.SUBTRACT)

    # 3.0mm _1 on face 3
    with Locations(Plane(origin=(7.209647411, -3.975215155, -12.646221437), x_dir=(-0.471410072716, 0, 0.881914136037), z_dir=(0.881914136037, 0, 0.471410072716))):
        with Locations((0, 0)):
            Hole(F_3_0MM_1_ON_FACE_3_D / 2, depth=F_3_0MM_1_ON_FACE_3_DEPTH)
            with Locations((0, 0, -(F_3_0MM_1_ON_FACE_3_DEPTH + F_3_0MM_1_ON_FACE_3_TIP / 2))):  # 90° drill point
                Cone(0, F_3_0MM_1_ON_FACE_3_D / 2, F_3_0MM_1_ON_FACE_3_TIP, mode=Mode.SUBTRACT)

    # Sketch 36 → Cut-Extrude 12 (cut)
    with BuildSketch(Plane(origin=(0, 0, -4), x_dir=(-1, 0, 0), z_dir=(0, 0, -1))):
        with Locations((0, 29.15)):
            Circle(SKETCH_36_R)
    extrude(amount=-CUT_EXTRUDE_12_DEPTH, mode=Mode.SUBTRACT)


solid = part.part
